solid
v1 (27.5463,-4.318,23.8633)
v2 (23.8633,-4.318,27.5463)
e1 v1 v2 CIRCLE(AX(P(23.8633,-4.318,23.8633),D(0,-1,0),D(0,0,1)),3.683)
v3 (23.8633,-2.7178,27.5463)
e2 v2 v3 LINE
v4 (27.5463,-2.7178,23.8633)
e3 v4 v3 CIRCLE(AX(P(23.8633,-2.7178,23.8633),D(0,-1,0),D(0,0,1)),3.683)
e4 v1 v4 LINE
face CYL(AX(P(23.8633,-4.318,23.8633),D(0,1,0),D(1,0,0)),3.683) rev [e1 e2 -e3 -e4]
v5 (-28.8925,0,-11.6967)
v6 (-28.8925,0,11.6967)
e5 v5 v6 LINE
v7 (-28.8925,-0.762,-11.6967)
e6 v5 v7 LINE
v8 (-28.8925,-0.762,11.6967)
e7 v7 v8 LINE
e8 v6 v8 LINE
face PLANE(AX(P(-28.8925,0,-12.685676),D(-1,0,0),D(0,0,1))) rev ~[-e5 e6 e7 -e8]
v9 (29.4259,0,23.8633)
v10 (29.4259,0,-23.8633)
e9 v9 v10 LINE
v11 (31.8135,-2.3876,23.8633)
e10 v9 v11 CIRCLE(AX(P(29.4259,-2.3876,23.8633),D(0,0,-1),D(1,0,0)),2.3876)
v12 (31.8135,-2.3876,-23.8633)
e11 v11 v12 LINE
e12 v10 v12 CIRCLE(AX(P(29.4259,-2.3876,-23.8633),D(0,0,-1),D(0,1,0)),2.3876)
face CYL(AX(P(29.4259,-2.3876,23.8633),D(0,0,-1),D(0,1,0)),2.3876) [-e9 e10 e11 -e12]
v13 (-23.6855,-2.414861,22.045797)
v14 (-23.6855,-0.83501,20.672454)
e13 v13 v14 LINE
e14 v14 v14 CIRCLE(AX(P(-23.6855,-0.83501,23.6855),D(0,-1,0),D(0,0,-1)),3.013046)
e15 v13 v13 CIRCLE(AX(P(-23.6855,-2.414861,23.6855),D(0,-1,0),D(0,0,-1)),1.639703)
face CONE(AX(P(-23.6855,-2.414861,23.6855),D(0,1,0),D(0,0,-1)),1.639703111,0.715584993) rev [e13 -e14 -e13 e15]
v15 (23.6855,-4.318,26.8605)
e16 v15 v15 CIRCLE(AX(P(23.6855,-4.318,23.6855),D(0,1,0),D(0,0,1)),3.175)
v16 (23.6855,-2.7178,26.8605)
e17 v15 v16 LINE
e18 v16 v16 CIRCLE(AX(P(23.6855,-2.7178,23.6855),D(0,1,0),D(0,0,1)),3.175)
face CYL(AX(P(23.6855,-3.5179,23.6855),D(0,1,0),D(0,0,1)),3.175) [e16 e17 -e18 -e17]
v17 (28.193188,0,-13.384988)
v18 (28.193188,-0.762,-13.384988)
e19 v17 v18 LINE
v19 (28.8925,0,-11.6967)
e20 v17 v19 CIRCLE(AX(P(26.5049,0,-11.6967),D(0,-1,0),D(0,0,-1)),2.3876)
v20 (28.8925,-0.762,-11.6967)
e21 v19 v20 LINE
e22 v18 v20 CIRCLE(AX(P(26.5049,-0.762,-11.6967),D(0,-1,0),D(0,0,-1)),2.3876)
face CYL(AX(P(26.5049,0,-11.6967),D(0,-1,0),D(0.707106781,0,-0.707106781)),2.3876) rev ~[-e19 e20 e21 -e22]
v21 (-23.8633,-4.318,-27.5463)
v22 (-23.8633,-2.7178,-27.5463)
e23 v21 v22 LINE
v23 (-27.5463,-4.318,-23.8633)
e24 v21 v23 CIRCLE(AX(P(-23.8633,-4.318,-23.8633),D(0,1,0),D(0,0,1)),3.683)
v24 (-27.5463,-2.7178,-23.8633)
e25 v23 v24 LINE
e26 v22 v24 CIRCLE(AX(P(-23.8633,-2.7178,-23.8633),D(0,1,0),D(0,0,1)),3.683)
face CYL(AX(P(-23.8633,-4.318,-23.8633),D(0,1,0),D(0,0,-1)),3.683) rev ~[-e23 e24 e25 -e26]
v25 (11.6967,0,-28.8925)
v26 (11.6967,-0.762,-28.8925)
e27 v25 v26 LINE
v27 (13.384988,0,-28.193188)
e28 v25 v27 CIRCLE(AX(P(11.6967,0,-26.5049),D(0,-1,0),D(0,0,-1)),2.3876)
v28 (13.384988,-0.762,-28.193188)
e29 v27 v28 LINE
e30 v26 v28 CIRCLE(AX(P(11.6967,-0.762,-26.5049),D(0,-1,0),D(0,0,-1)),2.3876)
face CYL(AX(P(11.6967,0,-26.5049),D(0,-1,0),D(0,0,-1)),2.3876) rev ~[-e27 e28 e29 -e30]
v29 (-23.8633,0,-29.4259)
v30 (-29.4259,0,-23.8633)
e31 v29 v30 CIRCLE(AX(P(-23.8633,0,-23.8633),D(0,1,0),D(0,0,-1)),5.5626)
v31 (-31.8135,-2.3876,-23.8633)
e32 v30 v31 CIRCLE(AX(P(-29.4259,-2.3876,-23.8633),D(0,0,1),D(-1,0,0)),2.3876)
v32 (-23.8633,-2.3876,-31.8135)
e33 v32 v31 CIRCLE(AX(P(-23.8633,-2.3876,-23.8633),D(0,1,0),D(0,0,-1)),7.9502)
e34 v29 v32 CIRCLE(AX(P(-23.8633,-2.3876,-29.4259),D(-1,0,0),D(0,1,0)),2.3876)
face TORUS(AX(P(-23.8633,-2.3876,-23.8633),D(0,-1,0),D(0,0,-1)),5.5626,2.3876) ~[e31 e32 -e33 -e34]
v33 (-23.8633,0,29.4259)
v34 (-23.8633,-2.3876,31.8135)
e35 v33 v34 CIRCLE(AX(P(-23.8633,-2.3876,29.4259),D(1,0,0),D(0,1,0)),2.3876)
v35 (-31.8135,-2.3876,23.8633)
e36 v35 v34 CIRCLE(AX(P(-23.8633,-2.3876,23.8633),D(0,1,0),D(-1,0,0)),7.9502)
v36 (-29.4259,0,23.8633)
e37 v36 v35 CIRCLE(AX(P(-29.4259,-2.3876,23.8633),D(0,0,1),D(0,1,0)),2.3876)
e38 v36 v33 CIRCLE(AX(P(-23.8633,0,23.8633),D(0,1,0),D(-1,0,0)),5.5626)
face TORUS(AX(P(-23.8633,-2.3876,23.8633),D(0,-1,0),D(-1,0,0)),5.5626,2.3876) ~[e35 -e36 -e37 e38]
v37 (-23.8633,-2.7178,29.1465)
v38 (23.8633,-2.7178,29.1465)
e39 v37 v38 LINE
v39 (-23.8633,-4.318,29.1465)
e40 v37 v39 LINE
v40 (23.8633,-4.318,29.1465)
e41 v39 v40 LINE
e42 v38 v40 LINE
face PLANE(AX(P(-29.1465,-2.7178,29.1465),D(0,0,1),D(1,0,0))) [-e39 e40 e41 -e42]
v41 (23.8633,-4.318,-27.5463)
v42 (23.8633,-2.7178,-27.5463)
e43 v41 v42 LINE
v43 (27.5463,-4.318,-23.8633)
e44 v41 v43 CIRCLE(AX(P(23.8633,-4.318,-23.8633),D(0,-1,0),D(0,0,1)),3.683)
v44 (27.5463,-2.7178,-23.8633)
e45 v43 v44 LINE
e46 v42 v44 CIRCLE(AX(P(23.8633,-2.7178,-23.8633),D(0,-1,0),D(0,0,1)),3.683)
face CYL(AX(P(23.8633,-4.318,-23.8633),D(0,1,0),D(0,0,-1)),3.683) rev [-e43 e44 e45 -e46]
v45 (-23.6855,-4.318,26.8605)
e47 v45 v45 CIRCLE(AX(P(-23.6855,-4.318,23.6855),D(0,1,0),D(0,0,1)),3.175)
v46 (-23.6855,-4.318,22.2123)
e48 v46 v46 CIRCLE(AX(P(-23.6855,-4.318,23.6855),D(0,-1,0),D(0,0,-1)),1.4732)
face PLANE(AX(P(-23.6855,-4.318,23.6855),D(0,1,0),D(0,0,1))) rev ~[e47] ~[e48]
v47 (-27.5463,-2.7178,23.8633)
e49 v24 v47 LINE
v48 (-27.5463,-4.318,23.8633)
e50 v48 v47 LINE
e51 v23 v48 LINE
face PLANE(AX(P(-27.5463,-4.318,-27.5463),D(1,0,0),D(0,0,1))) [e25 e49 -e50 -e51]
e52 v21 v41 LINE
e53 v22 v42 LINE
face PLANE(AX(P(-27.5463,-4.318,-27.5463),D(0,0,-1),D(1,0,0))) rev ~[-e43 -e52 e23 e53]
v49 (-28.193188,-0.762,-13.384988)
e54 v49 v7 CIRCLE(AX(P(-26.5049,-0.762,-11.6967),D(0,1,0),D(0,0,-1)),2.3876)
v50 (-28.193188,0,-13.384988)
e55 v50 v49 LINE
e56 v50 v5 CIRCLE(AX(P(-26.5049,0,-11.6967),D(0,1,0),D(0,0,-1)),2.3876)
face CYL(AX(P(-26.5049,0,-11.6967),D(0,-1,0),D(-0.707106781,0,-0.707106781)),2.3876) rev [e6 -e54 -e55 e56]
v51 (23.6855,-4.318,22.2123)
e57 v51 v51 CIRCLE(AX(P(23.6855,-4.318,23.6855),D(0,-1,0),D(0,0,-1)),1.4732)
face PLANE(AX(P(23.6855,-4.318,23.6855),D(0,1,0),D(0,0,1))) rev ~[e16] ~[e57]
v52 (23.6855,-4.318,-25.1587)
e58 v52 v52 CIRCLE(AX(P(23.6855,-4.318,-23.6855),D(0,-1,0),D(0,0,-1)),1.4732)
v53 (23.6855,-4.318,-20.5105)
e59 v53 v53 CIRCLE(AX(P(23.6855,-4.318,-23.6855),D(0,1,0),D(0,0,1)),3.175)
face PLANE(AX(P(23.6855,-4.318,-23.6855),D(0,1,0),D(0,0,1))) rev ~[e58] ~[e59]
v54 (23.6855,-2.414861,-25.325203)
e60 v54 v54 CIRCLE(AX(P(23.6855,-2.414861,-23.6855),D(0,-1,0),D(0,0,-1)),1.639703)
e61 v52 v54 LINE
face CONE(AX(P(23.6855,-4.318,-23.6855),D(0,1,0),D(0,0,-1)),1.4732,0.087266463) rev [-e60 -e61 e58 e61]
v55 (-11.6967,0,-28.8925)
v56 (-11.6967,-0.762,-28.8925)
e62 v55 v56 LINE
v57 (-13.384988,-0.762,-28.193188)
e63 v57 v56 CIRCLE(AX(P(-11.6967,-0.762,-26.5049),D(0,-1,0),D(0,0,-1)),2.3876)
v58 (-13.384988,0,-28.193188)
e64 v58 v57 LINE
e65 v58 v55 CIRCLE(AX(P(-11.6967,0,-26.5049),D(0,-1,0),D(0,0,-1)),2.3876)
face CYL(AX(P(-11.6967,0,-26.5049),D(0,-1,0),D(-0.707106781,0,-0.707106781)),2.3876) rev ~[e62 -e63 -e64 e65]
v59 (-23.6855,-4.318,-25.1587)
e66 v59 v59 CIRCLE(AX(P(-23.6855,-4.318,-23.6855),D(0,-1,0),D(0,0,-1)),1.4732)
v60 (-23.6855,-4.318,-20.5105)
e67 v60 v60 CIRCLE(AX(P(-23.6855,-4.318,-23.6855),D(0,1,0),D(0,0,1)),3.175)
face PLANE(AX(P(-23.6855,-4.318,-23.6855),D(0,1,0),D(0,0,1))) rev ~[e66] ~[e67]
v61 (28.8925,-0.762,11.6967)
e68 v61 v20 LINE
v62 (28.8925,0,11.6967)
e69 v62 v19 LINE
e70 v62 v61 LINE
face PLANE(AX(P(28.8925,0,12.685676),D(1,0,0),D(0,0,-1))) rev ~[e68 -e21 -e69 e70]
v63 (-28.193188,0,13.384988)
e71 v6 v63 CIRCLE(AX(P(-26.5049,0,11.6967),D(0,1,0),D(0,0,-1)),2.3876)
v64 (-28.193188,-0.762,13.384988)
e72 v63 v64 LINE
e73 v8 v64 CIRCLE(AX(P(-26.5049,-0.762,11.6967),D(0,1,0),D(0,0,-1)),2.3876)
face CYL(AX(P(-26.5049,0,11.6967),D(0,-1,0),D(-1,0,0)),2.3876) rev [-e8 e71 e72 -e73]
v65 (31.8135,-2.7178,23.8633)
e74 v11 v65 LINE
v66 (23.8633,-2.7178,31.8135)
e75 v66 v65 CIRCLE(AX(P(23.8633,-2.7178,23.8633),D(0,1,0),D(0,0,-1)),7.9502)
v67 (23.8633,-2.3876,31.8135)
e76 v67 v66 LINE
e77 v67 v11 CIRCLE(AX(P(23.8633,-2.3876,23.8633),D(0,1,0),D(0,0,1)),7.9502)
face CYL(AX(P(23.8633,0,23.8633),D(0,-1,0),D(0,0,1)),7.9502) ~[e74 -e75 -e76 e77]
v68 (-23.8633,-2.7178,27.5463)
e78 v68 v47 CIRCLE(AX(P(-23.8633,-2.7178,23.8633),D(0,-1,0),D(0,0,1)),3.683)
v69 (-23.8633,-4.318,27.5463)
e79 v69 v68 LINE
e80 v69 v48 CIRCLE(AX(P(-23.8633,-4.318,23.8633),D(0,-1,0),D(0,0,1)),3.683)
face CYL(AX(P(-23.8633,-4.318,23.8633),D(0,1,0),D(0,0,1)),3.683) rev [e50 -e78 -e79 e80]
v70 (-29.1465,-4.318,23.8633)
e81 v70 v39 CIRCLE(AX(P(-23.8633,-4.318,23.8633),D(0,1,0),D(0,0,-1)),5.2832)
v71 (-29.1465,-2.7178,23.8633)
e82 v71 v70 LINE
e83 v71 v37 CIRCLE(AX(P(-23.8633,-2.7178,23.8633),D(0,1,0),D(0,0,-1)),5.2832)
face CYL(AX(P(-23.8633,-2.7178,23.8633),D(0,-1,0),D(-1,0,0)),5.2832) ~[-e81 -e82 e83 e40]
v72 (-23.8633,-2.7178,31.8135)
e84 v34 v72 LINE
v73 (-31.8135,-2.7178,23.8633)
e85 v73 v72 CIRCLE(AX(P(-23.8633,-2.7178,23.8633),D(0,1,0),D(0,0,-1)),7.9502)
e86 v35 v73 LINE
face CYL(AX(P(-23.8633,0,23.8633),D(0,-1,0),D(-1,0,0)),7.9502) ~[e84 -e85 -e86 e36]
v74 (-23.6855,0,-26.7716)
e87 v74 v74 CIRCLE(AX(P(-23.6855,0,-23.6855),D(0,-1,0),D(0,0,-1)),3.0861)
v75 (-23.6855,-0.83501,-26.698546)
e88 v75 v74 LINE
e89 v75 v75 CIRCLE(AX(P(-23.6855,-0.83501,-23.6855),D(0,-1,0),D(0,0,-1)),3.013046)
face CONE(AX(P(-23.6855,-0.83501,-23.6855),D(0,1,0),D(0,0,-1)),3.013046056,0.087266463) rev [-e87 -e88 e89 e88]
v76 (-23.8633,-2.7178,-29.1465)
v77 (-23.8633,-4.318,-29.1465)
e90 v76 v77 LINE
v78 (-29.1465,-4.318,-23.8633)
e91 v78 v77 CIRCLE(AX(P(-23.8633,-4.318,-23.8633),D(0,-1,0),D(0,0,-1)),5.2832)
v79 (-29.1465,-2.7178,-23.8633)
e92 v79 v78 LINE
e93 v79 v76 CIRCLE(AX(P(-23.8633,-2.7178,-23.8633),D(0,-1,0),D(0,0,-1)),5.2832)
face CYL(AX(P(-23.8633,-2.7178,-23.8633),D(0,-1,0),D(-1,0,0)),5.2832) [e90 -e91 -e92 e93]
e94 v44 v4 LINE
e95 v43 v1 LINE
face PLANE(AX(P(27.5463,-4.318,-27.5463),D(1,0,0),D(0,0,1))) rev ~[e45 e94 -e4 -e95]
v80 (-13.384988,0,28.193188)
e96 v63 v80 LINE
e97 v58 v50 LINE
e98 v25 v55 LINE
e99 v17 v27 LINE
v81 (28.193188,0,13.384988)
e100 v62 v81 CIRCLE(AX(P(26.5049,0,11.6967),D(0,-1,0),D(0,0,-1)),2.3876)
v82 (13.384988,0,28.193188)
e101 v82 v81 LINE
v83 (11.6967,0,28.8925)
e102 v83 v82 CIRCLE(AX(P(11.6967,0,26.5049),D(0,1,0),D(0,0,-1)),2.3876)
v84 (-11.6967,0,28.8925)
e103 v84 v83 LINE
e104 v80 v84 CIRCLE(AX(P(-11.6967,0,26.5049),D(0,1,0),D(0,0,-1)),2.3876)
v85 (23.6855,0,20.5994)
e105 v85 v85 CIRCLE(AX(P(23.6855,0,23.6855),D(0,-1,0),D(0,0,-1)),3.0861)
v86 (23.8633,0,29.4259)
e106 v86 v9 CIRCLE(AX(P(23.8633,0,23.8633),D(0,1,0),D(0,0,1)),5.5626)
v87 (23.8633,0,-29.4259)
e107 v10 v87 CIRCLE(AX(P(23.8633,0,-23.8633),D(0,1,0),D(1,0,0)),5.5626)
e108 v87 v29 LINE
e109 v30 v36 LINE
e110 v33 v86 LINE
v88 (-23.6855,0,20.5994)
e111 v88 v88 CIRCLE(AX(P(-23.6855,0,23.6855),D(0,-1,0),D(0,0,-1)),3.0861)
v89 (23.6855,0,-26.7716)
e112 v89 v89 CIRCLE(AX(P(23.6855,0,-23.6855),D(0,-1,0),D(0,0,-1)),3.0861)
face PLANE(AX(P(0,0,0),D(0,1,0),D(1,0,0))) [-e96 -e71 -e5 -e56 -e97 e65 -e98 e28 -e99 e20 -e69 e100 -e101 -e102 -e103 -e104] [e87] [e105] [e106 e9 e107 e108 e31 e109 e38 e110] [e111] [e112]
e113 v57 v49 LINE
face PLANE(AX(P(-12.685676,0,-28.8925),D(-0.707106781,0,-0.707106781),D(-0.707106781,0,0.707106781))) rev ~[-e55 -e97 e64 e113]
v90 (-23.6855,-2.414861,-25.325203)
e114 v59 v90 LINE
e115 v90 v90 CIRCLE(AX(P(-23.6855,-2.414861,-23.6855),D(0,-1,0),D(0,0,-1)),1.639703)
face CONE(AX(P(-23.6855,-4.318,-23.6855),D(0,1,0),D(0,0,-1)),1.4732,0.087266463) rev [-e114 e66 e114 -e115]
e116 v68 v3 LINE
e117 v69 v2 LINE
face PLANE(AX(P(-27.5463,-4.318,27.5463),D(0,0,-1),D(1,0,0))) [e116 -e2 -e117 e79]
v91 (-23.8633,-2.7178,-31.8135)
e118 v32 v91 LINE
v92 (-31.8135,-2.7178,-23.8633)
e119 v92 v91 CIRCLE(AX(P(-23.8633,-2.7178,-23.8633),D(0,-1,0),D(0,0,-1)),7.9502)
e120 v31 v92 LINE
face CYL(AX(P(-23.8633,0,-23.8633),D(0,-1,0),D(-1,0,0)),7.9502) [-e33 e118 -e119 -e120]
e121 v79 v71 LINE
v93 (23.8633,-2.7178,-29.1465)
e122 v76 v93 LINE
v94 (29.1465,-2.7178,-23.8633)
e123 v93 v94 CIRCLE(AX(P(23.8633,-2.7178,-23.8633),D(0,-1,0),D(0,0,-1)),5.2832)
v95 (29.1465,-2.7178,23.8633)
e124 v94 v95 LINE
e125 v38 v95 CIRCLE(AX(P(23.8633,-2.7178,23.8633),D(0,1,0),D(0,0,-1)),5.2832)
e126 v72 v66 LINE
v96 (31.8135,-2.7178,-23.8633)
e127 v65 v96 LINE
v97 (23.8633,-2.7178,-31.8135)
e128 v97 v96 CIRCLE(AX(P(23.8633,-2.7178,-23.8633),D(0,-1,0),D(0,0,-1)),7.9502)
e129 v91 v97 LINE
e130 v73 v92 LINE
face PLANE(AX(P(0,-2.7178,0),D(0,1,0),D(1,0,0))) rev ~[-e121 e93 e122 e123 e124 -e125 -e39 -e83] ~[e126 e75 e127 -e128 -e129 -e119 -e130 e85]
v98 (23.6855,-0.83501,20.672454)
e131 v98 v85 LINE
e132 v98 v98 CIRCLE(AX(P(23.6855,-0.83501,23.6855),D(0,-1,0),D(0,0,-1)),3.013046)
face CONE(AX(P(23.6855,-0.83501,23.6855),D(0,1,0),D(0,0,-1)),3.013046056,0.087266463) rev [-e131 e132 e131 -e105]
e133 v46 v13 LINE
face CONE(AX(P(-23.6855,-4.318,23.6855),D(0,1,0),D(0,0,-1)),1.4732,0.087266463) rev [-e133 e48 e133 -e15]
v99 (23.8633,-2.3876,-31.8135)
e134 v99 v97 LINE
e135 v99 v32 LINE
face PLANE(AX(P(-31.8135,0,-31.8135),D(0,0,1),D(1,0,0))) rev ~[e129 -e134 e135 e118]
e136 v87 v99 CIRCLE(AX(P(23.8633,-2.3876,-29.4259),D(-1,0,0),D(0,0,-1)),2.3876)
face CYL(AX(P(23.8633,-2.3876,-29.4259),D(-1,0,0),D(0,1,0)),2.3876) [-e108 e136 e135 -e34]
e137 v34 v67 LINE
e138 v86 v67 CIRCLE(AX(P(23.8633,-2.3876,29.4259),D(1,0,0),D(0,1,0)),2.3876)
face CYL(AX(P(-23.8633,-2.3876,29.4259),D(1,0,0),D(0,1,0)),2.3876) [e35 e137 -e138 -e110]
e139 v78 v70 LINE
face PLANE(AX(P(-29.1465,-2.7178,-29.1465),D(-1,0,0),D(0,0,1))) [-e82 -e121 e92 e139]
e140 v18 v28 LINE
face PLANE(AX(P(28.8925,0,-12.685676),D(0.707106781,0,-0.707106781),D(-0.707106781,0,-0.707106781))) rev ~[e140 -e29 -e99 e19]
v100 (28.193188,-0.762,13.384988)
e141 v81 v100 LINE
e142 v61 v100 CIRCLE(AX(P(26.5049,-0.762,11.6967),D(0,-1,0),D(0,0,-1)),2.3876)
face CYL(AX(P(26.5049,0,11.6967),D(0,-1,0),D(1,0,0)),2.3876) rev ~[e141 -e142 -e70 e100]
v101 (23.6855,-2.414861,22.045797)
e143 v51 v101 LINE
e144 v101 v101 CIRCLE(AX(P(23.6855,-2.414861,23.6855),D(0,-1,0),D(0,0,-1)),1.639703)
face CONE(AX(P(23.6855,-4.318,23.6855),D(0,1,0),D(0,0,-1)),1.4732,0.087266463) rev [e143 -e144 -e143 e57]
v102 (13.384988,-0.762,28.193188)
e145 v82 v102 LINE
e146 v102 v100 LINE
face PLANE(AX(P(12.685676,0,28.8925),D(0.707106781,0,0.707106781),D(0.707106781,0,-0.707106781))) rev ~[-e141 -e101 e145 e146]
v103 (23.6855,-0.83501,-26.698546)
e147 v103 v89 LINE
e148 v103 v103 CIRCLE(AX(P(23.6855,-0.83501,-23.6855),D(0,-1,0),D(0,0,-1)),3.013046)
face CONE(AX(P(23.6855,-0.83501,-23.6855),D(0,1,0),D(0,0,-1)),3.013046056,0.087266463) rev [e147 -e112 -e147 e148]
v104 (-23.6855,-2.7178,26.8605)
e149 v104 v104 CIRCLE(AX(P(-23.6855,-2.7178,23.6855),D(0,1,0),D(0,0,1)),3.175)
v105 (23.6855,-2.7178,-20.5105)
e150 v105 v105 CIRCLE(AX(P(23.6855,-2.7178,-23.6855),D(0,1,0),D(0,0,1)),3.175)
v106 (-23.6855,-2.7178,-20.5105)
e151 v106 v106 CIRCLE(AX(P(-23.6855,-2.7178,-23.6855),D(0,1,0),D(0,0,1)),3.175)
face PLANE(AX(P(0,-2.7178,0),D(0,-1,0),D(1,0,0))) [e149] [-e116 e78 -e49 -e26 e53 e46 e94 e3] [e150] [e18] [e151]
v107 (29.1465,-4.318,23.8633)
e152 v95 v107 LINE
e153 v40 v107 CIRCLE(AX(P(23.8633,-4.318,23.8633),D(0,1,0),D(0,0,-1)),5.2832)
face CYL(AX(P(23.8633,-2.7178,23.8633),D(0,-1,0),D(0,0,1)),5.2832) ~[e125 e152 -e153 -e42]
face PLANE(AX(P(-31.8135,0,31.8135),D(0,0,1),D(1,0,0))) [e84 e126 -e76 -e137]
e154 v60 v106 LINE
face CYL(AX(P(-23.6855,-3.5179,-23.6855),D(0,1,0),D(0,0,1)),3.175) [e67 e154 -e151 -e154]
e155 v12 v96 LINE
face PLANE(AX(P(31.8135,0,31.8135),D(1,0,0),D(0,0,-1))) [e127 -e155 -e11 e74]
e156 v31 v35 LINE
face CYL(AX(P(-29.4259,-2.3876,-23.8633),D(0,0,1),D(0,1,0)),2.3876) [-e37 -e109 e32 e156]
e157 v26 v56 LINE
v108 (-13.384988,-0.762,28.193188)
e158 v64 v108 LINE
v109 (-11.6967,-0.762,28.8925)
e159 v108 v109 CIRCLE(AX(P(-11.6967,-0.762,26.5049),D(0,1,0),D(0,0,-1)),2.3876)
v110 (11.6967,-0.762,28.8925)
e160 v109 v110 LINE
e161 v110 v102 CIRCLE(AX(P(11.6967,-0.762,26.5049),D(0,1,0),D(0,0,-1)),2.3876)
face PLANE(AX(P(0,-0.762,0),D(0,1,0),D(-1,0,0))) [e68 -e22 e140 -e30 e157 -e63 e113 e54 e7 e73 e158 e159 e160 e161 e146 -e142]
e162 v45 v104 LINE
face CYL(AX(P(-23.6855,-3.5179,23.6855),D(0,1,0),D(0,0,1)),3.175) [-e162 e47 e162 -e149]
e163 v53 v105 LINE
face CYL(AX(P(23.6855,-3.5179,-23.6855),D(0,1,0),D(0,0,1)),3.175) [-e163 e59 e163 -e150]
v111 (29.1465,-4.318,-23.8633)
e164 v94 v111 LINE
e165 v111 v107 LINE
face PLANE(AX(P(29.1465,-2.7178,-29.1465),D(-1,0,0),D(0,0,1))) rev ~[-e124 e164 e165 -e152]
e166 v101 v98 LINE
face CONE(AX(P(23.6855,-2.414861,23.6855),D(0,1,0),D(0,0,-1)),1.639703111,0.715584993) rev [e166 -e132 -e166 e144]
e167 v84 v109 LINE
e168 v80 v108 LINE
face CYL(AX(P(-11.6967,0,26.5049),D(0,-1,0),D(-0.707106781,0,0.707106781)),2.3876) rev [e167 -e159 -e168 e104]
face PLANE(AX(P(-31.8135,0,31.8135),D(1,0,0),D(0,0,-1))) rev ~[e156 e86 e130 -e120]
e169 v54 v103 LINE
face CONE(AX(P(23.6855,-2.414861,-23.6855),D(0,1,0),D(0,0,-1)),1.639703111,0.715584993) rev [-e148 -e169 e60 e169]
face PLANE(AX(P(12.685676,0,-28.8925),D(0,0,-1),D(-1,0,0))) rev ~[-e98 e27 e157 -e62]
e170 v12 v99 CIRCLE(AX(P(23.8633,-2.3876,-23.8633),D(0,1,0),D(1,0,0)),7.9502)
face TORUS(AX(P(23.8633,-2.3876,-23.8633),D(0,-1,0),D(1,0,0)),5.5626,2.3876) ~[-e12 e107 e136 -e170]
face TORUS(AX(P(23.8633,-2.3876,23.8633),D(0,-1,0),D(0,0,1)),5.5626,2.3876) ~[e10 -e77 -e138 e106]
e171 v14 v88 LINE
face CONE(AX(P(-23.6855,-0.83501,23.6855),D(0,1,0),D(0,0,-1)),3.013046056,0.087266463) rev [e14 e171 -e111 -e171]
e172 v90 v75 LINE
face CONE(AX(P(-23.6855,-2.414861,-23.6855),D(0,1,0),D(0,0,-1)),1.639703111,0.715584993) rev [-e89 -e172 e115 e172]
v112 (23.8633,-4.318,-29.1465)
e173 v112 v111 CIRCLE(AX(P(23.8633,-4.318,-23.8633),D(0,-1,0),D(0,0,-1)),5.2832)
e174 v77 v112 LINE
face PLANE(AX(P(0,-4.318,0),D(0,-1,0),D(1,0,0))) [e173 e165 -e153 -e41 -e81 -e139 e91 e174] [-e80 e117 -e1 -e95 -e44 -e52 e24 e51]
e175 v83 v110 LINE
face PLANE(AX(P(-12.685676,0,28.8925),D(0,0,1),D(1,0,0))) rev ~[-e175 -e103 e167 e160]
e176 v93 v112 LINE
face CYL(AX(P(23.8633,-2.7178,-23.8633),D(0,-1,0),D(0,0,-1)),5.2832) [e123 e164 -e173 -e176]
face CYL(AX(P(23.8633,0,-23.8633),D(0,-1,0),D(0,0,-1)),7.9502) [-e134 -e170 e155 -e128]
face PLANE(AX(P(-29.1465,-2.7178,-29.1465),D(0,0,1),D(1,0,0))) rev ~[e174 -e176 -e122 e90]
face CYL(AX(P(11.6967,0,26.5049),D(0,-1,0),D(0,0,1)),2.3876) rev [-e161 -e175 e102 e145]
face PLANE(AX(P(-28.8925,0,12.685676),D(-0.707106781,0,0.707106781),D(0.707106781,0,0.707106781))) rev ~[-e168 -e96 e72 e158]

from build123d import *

# Parameters (mm, degrees)
SKETCH1_W           = 63.627
SKETCH1_H           = 63.627
BOSS_EXTRUDE1_DEPTH = 2.7178
CUT_EXTRUDE1_DEPTH  = 0.762
SKETCH3_W           = 58.293
SKETCH3_H           = 58.293
BOSS_EXTRUDE2_DEPTH = 1.6002
SKETCH4_W           = 55.0926
SKETCH4_H           = 55.0926
CUT_EXTRUDE2_DEPTH  = 1.6002
SKETCH5_W           = 3.175
SKETCH5_H           = 1.6002
SKETCH6_W           = 3.175
SKETCH6_H           = 1.6002
SKETCH7_W           = 3.175
SKETCH7_H           = 1.6002
SKETCH8_W           = 3.175
SKETCH8_H           = 1.6002
FILLET1_R           = 7.9502
FILLET2_R           = 2.3876
FILLET3_R           = 3.683
FILLET4_R           = 5.2832


with BuildPart() as part:
    # Sketch1 → Boss-Extrude1 (new body)
    with BuildSketch(Plane(origin=(0, 0, 0), x_dir=(1, 0, 0), z_dir=(0, 1, 0))):
        Rectangle(SKETCH1_W, SKETCH1_H)
    extrude(amount=-BOSS_EXTRUDE1_DEPTH)

    # Sketch2 → Cut-Extrude1 (cut)
    with BuildSketch(Plane(origin=(0, 0, 0), x_dir=(-1, 0, 0), z_dir=(0, 1, 0))):
        Polygon((12.685676302, -28.8925), (28.8925, -12.685676302), (28.8925, 12.685676302), (12.685676302, 28.8925), (-12.685676302, 28.8925), (-28.8925, 12.685676302), (-28.8925, -12.685676302), (-12.685676302, -28.8925), align=None)
    extrude(amount=-CUT_EXTRUDE1_DEPTH, mode=Mode.SUBTRACT)

    # Sketch3 → Boss-Extrude2 (add)
    with BuildSketch(Plane.XZ.offset(2.7178)):
        Rectangle(SKETCH3_W, SKETCH3_H)
    extrude(amount=BOSS_EXTRUDE2_DEPTH)

    # Sketch4 → Cut-Extrude2 (cut)
    with BuildSketch(Plane.XZ.offset(4.318)):
        Rectangle(SKETCH4_W, SKETCH4_H)
    extrude(amount=-CUT_EXTRUDE2_DEPTH, mode=Mode.SUBTRACT)

    # Sketch5 → Revolve1 (revolve)
    with BuildSketch(Plane(origin=(0, 0, -23.6855), x_dir=(-1, 0, 0), z_dir=(0, 0, -1)), mode=Mode.PRIVATE) as revolve1_sk:
        with Locations((22.098, -3.5179)):
            Rectangle(SKETCH5_W, SKETCH5_H)
    revolve(revolve1_sk.sketch.rotate(Axis((-23.6855, -4.318, -23.6855), (0, 1, 0)), 270), axis=Axis((-23.6855, -4.318, -23.6855), (0, 1, 0)))

    # Sketch6 → Revolve2 (revolve)
    with BuildSketch(Plane(origin=(0, 0, 23.6855), x_dir=(-1, 0, 0), z_dir=(0, 0, -1)), mode=Mode.PRIVATE) as revolve2_sk:
        with Locations((-25.273, -3.5179)):
            Rectangle(SKETCH6_W, SKETCH6_H)
    revolve(revolve2_sk.sketch.rotate(Axis((23.6855, -4.318, 23.6855), (0, 1, 0)), 270), axis=Axis((23.6855, -4.318, 23.6855), (0, 1, 0)))

    # Sketch7 → Revolve3 (revolve)
    with BuildSketch(Plane(origin=(0, 0, 23.6855), x_dir=(-1, 0, 0), z_dir=(0, 0, -1)), mode=Mode.PRIVATE) as revolve3_sk:
        with Locations((22.098, -3.5179)):
            Rectangle(SKETCH7_W, SKETCH7_H)
    revolve(revolve3_sk.sketch.rotate(Axis((-23.6855, -4.318, 23.6855), (0, 1, 0)), 270), axis=Axis((-23.6855, -4.318, 23.6855), (0, 1, 0)))

    # Sketch8 → Revolve4 (revolve)
    with BuildSketch(Plane(origin=(0, 0, -23.6855), x_dir=(-1, 0, 0), z_dir=(0, 0, -1)), mode=Mode.PRIVATE) as revolve4_sk:
        with Locations((-25.273, -3.5179)):
            Rectangle(SKETCH8_W, SKETCH8_H)
    revolve(revolve4_sk.sketch.rotate(Axis((23.6855, -4.318, -23.6855), (0, 1, 0)), 270), axis=Axis((23.6855, -4.318, -23.6855), (0, 1, 0)))

    # Sketch9 → Cut-Revolve1 (revolve, cut)
    with BuildSketch(Plane.XY.offset(-23.6855), mode=Mode.PRIVATE) as cut_revolve1_sk:
        Polygon((-20.5994, 0), (-23.6855, 0), (-23.6855, -4.318), (-22.2123, -4.318), (-22.045796889, -2.414860733), (-20.672453944, -0.835010396), align=None)
    revolve(cut_revolve1_sk.sketch.rotate(Axis((-23.6855, 0, -23.6855), (0, -1, 0)), 270), axis=Axis((-23.6855, 0, -23.6855), (0, -1, 0)), mode=Mode.SUBTRACT)

    # Sketch10 → Cut-Revolve2 (revolve, cut)
    with BuildSketch(Plane.XY.offset(23.6855), mode=Mode.PRIVATE) as cut_revolve2_sk:
        Polygon((26.7716, 0), (23.6855, 0), (23.6855, -4.318), (25.1587, -4.318), (25.325203111, -2.414860733), (26.698546056, -0.835010396), align=None)
    revolve(cut_revolve2_sk.sketch.rotate(Axis((23.6855, 0, 23.6855), (0, -1, 0)), 270), axis=Axis((23.6855, 0, 23.6855), (0, -1, 0)), mode=Mode.SUBTRACT)

    # Sketch11 → Cut-Revolve3 (revolve, cut)
    with BuildSketch(Plane.XY.offset(23.6855), mode=Mode.PRIVATE) as cut_revolve3_sk:
        Polygon((-20.5994, 0), (-23.6855, 0), (-23.6855, -4.318), (-22.2123, -4.318), (-22.045796889, -2.414860733), (-20.672453944, -0.835010396), align=None)
    revolve(cut_revolve3_sk.sketch.rotate(Axis((-23.6855, 0, 23.6855), (0, -1, 0)), 270), axis=Axis((-23.6855, 0, 23.6855), (0, -1, 0)), mode=Mode.SUBTRACT)

    # Sketch12 → Cut-Revolve4 (revolve, cut)
    with BuildSketch(Plane.XY.offset(-23.6855), mode=Mode.PRIVATE) as cut_revolve4_sk:
        Polygon((26.7716, 0), (23.6855, 0), (23.6855, -4.318), (25.1587, -4.318), (25.325203111, -2.414860733), (26.698546056, -0.835010396), align=None)
    revolve(cut_revolve4_sk.sketch.rotate(Axis((23.6855, 0, -23.6855), (0, -1, 0)), 270), axis=Axis((23.6855, 0, -23.6855), (0, -1, 0)), mode=Mode.SUBTRACT)

    # Fillet1
    fillet1_edges = [part.edges().sort_by_distance(p)[0] for p in [
        (31.8135, -1.3589, 31.8135),
        (-31.8135, -1.3589, 31.8135),
        (-31.8135, -1.3589, -31.8135),
        (31.8135, -1.3589, -31.8135),
    ]]
    fillet(fillet1_edges, radius=FILLET1_R)

    # Fillet2
    fillet2_edges = [part.edges().sort_by_distance(p)[0] for p in [
        (0, 0, 31.8135),
        (31.8135, 0, 0),
        (0, 0, -31.8135),
        (-31.8135, 0, 0),
        (29.484940332, 0, -29.484940332),
        (-29.484940332, 0, 29.484940332),
        (-29.484940332, 0, -29.484940332),
        (29.484940332, 0, 29.484940332),
        (-12.685676302, -0.381, -28.8925),
        (12.685676302, -0.381, -28.8925),
        (28.8925, -0.381, -12.685676302),
        (28.8925, -0.381, 12.685676302),
        (12.685676302, -0.381, 28.8925),
        (-12.685676302, -0.381, 28.8925),
        (-28.8925, -0.381, 12.685676302),
        (-28.8925, -0.381, -12.685676302),
    ]]
    fillet(fillet2_edges, radius=FILLET2_R)

    # Fillet3
    fillet3_edges = [part.edges().sort_by_distance(p)[0] for p in [
        (-27.5463, -3.5179, -27.5463),
        (-27.5463, -3.5179, 27.5463),
        (27.5463, -3.5179, 27.5463),
        (27.5463, -3.5179, -27.5463),
    ]]
    fillet(fillet3_edges, radius=FILLET3_R)

    # Fillet4
    fillet4_edges = [part.edges().sort_by_distance(p)[0] for p in [
        (29.1465, -3.5179, -29.1465),
        (29.1465, -3.5179, 29.1465),
        (-29.1465, -3.5179, 29.1465),
        (-29.1465, -3.5179, -29.1465),
    ]]
    fillet(fillet4_edges, radius=FILLET4_R)


solid = part.part
